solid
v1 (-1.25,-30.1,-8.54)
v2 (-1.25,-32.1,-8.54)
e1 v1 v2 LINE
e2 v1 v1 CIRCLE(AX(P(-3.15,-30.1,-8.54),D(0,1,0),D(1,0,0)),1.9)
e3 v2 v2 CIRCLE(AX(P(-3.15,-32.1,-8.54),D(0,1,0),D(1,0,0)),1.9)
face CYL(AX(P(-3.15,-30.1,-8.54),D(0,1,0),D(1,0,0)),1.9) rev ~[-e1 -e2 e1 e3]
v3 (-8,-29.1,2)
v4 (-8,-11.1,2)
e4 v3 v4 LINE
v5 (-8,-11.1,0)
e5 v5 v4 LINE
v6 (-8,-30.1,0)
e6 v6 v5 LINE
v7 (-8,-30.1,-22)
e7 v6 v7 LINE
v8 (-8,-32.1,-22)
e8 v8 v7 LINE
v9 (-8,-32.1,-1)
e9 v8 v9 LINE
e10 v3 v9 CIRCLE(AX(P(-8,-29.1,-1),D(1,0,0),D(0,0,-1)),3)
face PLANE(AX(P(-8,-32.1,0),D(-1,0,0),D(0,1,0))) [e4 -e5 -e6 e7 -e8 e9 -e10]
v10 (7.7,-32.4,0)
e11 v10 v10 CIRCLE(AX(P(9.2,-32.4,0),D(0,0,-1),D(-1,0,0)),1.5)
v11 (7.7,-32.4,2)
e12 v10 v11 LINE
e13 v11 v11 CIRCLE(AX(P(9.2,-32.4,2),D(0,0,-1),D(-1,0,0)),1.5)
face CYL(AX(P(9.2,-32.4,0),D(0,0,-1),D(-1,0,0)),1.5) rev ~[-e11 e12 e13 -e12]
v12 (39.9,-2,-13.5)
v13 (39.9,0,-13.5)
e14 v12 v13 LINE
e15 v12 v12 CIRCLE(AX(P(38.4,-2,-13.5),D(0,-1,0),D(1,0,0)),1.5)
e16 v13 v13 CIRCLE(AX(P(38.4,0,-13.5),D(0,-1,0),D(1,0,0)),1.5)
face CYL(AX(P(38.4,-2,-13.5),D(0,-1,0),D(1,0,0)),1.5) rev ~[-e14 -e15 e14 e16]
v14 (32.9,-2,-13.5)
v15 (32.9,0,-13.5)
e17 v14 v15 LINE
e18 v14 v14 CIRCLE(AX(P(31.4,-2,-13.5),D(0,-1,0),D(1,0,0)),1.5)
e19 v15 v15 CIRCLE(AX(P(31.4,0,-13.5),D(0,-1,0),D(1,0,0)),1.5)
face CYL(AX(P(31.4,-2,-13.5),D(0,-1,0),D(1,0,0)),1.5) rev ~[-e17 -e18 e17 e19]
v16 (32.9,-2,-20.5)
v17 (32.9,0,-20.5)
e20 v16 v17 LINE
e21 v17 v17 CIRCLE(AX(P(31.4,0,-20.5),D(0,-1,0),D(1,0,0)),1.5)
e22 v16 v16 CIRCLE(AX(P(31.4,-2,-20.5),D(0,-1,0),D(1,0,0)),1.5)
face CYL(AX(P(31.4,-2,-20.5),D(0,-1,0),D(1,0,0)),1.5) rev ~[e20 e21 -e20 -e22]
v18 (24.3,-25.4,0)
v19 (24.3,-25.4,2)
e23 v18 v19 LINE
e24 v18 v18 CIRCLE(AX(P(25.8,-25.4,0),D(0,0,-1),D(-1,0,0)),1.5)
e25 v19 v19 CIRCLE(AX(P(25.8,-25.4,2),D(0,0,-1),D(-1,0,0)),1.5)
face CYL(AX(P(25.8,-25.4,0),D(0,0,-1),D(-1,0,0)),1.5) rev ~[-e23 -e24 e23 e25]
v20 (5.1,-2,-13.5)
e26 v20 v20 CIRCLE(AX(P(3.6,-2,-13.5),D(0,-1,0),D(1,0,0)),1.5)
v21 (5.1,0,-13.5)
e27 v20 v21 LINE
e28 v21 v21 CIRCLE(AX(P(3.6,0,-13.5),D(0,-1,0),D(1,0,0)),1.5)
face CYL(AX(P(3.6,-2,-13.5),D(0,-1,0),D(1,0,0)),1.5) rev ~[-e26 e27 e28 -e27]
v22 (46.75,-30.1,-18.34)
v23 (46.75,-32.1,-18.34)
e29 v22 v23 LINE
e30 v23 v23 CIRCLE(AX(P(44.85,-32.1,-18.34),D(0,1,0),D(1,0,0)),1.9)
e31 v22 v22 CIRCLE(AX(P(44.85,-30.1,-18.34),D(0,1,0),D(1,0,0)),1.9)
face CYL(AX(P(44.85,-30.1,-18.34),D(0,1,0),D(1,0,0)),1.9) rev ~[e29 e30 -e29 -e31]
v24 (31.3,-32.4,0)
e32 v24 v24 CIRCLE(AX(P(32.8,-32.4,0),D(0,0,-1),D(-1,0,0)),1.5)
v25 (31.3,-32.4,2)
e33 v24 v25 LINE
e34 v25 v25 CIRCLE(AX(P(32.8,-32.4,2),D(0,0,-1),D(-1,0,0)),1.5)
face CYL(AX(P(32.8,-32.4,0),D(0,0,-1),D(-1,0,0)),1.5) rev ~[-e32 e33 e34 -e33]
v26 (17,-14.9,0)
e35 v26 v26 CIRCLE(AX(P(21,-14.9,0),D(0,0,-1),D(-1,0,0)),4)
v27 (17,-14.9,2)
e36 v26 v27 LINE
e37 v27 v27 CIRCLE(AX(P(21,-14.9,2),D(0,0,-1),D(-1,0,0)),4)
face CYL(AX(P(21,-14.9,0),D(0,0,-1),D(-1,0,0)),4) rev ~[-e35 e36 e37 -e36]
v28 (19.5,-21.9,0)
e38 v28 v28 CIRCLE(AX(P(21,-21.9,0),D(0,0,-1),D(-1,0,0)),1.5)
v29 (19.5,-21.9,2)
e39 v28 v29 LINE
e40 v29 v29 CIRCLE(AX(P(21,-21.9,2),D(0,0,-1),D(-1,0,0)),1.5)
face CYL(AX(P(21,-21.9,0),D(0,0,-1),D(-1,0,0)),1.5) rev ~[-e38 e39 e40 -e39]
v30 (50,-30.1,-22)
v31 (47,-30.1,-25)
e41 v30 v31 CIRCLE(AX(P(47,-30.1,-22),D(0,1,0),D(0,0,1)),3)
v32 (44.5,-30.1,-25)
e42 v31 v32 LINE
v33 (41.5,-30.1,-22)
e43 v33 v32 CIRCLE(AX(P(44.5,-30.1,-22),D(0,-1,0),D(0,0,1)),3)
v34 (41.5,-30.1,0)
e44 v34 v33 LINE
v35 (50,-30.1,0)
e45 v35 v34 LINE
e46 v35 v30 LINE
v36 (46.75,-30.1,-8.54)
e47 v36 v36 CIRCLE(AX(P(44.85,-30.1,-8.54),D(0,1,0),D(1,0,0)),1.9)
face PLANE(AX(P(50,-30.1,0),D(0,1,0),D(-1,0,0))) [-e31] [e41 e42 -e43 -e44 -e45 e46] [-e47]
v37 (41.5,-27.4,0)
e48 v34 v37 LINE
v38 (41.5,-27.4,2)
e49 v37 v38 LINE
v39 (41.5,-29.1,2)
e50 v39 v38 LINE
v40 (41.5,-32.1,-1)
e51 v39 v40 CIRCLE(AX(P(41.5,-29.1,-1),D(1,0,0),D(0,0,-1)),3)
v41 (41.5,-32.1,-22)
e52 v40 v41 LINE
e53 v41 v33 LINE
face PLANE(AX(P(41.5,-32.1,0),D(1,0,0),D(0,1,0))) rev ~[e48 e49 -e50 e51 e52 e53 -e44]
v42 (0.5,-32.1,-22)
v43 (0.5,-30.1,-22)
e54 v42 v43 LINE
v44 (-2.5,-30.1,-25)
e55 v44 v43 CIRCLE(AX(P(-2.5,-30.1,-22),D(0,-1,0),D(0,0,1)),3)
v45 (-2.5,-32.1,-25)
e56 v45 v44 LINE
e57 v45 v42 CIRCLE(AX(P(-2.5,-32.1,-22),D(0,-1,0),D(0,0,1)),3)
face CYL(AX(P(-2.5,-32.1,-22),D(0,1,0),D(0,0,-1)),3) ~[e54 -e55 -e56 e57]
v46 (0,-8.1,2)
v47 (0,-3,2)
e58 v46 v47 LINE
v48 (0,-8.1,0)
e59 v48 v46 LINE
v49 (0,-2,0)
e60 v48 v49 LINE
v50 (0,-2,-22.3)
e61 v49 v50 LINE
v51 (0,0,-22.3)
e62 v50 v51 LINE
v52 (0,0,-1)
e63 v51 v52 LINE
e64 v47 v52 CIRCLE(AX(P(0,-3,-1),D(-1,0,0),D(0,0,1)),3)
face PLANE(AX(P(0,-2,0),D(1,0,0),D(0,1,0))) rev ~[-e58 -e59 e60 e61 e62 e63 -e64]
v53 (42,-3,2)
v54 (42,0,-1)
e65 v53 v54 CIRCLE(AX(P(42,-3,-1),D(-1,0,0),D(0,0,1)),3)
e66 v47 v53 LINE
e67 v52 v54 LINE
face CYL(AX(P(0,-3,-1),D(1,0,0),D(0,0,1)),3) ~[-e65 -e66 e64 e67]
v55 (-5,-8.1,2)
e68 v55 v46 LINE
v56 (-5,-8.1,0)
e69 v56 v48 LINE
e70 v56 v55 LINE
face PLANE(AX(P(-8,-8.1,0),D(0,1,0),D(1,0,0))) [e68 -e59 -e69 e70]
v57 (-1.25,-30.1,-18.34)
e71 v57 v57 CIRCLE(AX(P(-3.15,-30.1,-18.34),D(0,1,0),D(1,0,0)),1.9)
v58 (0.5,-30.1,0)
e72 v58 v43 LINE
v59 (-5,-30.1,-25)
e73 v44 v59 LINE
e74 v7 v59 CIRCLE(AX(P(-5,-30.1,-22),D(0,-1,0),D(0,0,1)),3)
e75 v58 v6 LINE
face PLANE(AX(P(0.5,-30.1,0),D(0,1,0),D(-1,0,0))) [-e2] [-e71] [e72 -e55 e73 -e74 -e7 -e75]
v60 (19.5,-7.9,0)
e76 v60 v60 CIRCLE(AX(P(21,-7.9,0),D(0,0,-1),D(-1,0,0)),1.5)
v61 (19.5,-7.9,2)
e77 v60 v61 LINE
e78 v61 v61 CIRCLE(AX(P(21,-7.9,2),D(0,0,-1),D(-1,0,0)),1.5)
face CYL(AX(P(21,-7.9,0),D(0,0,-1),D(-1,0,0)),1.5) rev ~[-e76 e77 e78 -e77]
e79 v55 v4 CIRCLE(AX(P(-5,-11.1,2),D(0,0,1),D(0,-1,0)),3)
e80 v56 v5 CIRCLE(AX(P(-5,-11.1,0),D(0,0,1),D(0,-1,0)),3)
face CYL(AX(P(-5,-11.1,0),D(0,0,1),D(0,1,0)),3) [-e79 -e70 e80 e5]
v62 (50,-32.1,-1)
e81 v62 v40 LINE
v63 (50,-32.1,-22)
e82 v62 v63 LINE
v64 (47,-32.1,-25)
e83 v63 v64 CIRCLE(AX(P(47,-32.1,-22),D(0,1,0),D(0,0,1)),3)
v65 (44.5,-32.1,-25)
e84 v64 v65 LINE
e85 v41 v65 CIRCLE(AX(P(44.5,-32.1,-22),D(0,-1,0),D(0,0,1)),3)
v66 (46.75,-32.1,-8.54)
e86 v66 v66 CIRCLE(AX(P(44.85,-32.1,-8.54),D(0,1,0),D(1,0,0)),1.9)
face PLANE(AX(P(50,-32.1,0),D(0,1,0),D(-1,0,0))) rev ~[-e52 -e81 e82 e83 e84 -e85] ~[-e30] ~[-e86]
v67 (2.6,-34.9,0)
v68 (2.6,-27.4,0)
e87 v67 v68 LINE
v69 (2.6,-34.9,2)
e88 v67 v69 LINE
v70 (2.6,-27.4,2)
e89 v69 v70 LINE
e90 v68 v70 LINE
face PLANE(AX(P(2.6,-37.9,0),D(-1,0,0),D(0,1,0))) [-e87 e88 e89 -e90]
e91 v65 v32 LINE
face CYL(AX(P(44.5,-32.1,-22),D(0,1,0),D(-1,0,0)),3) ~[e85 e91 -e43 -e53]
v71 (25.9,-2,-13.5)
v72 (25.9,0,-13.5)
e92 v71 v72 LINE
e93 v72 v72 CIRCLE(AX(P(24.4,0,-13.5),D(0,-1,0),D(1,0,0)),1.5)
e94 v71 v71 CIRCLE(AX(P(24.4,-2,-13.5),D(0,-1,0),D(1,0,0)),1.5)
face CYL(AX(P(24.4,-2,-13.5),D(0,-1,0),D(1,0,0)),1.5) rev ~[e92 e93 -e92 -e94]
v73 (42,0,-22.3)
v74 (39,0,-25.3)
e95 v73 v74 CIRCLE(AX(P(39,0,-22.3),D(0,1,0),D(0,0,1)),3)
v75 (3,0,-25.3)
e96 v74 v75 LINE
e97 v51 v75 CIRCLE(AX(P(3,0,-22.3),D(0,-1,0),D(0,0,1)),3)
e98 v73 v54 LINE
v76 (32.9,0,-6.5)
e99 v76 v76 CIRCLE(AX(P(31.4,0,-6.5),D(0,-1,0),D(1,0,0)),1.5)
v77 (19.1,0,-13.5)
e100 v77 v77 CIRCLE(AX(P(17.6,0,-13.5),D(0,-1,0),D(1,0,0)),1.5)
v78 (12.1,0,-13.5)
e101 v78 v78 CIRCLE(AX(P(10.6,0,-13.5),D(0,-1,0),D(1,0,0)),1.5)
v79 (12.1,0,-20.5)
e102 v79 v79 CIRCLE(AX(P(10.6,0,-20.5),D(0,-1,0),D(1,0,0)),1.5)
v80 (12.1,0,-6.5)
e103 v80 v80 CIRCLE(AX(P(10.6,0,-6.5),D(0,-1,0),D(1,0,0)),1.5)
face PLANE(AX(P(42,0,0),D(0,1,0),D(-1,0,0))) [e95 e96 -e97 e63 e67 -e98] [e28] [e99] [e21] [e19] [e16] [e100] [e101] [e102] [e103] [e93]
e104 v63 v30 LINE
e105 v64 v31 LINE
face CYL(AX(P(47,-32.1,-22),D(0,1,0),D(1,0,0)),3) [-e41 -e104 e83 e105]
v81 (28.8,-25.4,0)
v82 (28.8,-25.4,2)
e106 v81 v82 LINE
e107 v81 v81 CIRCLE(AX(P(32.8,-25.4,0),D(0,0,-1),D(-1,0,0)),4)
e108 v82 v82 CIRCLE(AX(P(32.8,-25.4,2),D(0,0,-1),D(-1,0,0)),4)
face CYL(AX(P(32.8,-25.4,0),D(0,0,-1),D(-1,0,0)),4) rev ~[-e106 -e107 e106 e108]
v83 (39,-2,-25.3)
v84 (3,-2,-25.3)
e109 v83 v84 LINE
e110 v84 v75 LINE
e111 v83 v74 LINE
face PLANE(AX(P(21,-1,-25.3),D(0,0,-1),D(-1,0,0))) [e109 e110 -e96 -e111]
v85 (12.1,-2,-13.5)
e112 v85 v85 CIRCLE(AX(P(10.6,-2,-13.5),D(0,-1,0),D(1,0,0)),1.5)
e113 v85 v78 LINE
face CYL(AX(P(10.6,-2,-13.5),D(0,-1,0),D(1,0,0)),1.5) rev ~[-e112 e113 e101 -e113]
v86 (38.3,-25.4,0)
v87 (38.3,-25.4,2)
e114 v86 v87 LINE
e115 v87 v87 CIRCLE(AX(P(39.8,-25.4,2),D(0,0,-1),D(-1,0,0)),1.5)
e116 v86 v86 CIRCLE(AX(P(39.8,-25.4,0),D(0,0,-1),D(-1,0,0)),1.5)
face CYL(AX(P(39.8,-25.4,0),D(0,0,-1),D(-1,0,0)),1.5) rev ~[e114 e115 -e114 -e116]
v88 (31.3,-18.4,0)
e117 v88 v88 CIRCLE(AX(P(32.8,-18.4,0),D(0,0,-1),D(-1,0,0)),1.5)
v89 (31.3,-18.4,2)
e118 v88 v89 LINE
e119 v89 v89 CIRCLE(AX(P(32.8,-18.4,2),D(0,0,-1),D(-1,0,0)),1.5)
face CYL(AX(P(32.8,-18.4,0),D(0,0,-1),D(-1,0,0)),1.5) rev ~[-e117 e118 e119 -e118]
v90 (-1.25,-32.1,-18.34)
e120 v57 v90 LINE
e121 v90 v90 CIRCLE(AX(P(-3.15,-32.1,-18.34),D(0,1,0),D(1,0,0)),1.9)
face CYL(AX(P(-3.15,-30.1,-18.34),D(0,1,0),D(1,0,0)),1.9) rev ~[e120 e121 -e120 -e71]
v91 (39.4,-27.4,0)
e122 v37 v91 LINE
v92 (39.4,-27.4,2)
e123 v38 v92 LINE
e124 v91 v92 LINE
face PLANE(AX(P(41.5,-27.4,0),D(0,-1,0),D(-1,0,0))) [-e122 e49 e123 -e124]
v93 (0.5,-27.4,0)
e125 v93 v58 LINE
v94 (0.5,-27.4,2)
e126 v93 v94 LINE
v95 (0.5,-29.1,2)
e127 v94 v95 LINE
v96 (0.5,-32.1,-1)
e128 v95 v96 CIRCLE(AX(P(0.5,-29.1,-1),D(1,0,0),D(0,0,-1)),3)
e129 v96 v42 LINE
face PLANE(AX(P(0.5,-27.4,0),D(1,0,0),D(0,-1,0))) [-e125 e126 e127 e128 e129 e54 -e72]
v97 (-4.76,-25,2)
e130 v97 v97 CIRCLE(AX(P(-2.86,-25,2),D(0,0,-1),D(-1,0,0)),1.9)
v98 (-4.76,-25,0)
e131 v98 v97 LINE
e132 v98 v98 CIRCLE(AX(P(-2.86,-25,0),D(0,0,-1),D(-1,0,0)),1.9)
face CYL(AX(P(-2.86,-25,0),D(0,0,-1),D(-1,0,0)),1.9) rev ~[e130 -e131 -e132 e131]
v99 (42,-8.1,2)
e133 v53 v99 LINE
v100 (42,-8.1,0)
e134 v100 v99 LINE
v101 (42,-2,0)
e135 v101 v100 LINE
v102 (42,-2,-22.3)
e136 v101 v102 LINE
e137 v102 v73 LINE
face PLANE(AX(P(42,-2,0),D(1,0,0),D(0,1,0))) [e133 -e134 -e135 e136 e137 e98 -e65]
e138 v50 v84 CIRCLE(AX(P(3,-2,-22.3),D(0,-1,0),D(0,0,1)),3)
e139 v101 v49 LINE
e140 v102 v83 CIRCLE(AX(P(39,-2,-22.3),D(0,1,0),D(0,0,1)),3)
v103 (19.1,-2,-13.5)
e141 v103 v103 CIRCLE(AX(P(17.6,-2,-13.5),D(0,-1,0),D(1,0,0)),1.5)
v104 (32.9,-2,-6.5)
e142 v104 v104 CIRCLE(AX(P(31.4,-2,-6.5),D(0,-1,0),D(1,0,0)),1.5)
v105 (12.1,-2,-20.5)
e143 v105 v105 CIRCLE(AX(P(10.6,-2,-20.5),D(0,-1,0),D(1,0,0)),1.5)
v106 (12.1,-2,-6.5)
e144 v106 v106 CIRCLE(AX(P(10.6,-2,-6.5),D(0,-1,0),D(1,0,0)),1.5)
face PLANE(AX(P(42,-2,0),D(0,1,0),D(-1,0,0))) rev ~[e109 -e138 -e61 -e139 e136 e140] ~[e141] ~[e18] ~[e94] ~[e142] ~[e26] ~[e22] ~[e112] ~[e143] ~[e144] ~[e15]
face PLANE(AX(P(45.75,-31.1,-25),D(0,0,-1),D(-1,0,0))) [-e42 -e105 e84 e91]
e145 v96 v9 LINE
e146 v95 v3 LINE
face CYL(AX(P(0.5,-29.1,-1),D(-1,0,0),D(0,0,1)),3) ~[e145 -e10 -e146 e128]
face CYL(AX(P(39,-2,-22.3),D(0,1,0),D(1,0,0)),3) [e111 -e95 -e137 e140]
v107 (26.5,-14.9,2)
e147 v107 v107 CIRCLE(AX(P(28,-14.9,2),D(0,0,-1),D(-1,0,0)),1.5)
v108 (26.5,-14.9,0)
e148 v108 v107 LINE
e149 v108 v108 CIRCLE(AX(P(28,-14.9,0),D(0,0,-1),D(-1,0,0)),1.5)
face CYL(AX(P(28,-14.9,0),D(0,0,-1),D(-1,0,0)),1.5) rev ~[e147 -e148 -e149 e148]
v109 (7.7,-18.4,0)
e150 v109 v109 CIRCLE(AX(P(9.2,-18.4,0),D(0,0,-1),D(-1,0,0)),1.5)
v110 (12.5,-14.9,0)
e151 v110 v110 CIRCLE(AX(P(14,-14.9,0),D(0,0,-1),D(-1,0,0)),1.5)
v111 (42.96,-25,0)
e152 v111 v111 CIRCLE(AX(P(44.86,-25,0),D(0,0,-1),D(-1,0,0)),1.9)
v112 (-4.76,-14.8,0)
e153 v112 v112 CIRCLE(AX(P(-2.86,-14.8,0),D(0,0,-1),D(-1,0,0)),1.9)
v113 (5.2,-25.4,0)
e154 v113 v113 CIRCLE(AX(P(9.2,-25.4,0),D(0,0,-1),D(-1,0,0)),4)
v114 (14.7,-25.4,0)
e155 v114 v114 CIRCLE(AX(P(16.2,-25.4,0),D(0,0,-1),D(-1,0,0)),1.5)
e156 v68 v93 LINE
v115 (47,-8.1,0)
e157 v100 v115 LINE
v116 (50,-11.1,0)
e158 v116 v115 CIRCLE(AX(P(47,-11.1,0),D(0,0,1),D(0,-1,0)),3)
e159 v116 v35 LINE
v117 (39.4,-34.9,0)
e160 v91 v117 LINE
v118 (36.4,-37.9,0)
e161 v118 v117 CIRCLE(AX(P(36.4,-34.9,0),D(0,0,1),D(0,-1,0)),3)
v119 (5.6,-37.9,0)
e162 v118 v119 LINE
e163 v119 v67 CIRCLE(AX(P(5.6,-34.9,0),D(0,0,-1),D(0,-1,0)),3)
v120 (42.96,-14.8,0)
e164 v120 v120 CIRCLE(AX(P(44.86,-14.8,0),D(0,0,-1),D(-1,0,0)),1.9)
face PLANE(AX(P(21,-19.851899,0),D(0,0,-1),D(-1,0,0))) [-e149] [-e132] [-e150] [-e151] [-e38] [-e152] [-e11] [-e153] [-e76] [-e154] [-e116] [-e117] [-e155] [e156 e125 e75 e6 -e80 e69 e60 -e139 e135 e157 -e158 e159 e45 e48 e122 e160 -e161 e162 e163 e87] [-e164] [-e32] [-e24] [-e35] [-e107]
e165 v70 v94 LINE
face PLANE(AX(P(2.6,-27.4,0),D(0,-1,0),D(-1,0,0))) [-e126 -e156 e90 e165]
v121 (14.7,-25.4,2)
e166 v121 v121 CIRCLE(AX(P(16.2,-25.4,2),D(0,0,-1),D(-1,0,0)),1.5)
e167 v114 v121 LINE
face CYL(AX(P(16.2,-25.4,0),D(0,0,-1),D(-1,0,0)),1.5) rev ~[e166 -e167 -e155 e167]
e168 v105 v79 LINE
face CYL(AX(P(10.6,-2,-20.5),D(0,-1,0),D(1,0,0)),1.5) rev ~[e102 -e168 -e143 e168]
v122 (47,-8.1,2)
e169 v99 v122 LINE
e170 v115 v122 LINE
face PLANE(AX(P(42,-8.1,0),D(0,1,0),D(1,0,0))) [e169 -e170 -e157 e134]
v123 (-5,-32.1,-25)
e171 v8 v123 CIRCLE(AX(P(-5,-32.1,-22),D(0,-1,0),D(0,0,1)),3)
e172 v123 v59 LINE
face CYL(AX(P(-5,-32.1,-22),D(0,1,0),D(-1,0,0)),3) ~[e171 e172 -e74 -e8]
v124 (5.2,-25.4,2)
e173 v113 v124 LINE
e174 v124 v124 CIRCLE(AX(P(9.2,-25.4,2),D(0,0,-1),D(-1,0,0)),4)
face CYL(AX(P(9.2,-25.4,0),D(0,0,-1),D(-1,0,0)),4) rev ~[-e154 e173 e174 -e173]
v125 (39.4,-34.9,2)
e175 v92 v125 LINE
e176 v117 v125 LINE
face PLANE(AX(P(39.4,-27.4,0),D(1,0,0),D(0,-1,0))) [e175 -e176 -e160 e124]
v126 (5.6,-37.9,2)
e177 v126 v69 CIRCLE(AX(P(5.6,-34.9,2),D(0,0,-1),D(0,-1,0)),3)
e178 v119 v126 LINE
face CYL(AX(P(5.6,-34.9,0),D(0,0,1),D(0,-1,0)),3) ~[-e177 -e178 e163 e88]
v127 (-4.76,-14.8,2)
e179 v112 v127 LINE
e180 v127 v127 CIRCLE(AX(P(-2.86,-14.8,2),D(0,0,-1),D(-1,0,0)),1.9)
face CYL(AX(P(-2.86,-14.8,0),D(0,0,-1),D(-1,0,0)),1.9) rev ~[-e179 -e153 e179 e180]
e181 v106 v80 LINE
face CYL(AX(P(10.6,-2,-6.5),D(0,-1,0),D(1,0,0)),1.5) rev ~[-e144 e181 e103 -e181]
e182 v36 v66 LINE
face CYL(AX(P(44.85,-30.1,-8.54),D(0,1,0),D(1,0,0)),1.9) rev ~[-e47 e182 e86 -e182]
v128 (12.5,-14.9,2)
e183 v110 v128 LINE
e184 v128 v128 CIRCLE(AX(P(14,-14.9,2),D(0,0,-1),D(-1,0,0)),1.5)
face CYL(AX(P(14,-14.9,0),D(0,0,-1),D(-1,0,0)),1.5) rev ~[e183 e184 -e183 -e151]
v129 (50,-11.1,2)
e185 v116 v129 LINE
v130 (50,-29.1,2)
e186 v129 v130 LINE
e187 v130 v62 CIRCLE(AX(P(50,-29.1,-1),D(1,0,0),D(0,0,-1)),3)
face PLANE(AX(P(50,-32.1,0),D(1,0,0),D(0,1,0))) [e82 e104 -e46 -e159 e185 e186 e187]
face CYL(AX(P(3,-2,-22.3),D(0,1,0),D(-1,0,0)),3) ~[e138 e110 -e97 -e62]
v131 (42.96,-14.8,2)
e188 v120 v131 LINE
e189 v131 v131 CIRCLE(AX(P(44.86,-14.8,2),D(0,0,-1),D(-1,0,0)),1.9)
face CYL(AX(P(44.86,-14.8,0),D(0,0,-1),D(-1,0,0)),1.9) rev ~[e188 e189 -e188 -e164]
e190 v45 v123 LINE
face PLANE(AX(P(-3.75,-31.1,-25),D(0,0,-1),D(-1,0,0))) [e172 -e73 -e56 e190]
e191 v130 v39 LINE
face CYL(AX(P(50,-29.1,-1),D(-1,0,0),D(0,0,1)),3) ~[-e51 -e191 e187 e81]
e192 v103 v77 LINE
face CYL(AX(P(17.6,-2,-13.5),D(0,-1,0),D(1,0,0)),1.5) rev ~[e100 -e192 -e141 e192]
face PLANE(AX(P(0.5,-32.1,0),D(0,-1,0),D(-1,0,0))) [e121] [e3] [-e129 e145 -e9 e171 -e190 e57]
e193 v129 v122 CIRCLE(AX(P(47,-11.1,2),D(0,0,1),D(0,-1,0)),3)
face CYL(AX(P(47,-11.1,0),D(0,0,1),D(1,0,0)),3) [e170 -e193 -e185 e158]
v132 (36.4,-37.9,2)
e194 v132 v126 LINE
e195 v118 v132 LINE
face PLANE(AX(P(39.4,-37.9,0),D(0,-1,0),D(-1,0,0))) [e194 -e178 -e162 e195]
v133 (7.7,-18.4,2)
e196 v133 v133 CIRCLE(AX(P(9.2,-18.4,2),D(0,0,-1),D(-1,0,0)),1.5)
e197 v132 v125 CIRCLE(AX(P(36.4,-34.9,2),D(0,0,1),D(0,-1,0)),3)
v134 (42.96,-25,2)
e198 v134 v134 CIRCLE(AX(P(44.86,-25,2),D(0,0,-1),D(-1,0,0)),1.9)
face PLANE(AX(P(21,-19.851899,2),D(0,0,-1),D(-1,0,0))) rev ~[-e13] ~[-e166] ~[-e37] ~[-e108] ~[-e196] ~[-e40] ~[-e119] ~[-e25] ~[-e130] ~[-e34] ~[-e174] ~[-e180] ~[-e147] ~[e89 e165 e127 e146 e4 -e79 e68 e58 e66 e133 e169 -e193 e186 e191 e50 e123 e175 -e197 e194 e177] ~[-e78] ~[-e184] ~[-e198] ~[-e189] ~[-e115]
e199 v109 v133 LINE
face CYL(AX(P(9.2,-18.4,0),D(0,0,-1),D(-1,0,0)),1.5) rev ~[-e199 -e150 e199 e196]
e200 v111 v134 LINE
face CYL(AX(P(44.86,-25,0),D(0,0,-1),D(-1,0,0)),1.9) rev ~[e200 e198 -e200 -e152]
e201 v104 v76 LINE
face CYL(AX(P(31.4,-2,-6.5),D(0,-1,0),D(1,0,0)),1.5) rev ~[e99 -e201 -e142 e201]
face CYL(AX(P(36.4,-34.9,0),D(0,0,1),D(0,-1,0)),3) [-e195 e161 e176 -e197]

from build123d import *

# Parameters (mm, degrees)
EXTRUDE_1_DEPTH     = 2
SKETCH_2_W          = 42
SKETCH_2_H          = 2
EXTRUDE_2_DEPTH     = 25.3
SKETCH_3_W          = 8.5
SKETCH_3_H          = 2
EXTRUDE_3_DEPTH     = 25
FILLET_3_R          = 3
FILLET_4_R          = 3
FILLET_5_R          = 3
FILLET_6_R          = 3
FILLET_7_R          = 3
FILLET_8_R          = 3
FILLET_9_R          = 3
FILLET_10_R         = 3
FILLET_11_R         = 3
FILLET_12_R         = 3
SKETCH_5_R          = 1.5
SKETCH_5_R_2        = 4
SKETCH_5_R_3        = 1.9
CUT_EXTRUDE_5_DEPTH = 2
SKETCH_9_R          = 1.9
CUT_EXTRUDE_6_DEPTH = 2
SKETCH_10_R         = 1.5
CUT_EXTRUDE_7_DEPTH = 2
FILLET_13_R         = 3
FILLET_14_R         = 3
FILLET_15_R         = 3


with BuildPart() as part:
    # 草图1 → 凸台-拉伸1 (new body)
    with BuildSketch(Plane.XY):
        Polygon((0, 0), (42, 0), (42, -8.1), (50, -8.1), (50, -32.1), (41.5, -32.1), (41.5, -27.4), (39.4, -27.4), (39.4, -37.9), (2.6, -37.9), (2.6, -27.4), (0.5, -27.4), (0.5, -32.1), (-8, -32.1), (-8, -8.1), (0, -8.1), align=None)
    extrude(amount=EXTRUDE_1_DEPTH)

    # 草图2 → 凸台-拉伸2 (add)
    with BuildSketch(Plane(origin=(0, 0, 0), x_dir=(-1, 0, 0), z_dir=(0, 0, -1))):
        with Locations((-21, -1)):
            Rectangle(SKETCH_2_W, SKETCH_2_H)
    extrude(amount=EXTRUDE_2_DEPTH)

    # 草图3 → 凸台-拉伸3 (add)
    with BuildSketch(Plane(origin=(0, 0, 0), x_dir=(-1, 0, 0), z_dir=(0, 0, -1))):
        with Locations((-45.75, -31.1)):
            Rectangle(SKETCH_3_W, SKETCH_3_H)
        with Locations((3.75, -31.1)):
            Rectangle(SKETCH_3_W, SKETCH_3_H)
    extrude(amount=EXTRUDE_3_DEPTH)

    # 圆角3
    fillet_3_edges = [part.edges().sort_by_distance(p)[0] for p in [
        (42, -1, -25.3),
    ]]
    fillet(fillet_3_edges, radius=FILLET_3_R)

    # 圆角4
    fillet_4_edges = [part.edges().sort_by_distance(p)[0] for p in [
        (41.5, -31.1, -25),
    ]]
    fillet(fillet_4_edges, radius=FILLET_4_R)

    # 圆角5
    fillet_5_edges = [part.edges().sort_by_distance(p)[0] for p in [
        (0, -1, -25.3),
    ]]
    fillet(fillet_5_edges, radius=FILLET_5_R)

    # 圆角6
    fillet_6_edges = [part.edges().sort_by_distance(p)[0] for p in [
        (50, -31.1, -25),
    ]]
    fillet(fillet_6_edges, radius=FILLET_6_R)

    # 圆角7
    fillet_7_edges = [part.edges().sort_by_distance(p)[0] for p in [
        (-8, -31.1, -25),
    ]]
    fillet(fillet_7_edges, radius=FILLET_7_R)

    # 圆角8
    fillet_8_edges = [part.edges().sort_by_distance(p)[0] for p in [
        (0.5, -31.1, -25),
    ]]
    fillet(fillet_8_edges, radius=FILLET_8_R)

    # 圆角9
    fillet_9_edges = [part.edges().sort_by_distance(p)[0] for p in [
        (39.4, -37.9, 1),
    ]]
    fillet(fillet_9_edges, radius=FILLET_9_R)

    # 圆角10
    fillet_10_edges = [part.edges().sort_by_distance(p)[0] for p in [
        (2.6, -37.9, 1),
    ]]
    fillet(fillet_10_edges, radius=FILLET_10_R)

    # 圆角11
    fillet_11_edges = [part.edges().sort_by_distance(p)[0] for p in [
        (50, -8.1, 1),
    ]]
    fillet(fillet_11_edges, radius=FILLET_11_R)

    # 圆角12
    fillet_12_edges = [part.edges().sort_by_distance(p)[0] for p in [
        (-8, -8.1, 1),
    ]]
    fillet(fillet_12_edges, radius=FILLET_12_R)

    # 草图5 → 切除-拉伸5 (cut)
    with BuildSketch(Plane(origin=(0, 0, 0), x_dir=(-1, 0, 0), z_dir=(0, 0, -1))):
        with Locations((-32.8, -32.4)):
            Circle(SKETCH_5_R)
        with Locations((-32.8, -25.4)):
            Circle(SKETCH_5_R_2)
        with Locations((-25.8, -25.4)):
            Circle(SKETCH_5_R)
        with Locations((-32.8, -18.4)):
            Circle(SKETCH_5_R)
        with Locations((-39.8, -25.4)):
            Circle(SKETCH_5_R)
        with Locations((-21, -14.9)):
            Circle(SKETCH_5_R_2)
        with Locations((-14, -14.9)):
            Circle(SKETCH_5_R)
        with Locations((-21, -7.9)):
            Circle(SKETCH_5_R)
        with Locations((-21, -21.9)):
            Circle(SKETCH_5_R)
        with Locations((-44.86, -25)):
            Circle(SKETCH_5_R_3)
        with Locations((-44.86, -14.8)):
            Circle(SKETCH_5_R_3)
        with Locations((-28, -14.9)):
            Circle(SKETCH_5_R)
        with Locations((-9.2, -32.4)):
            Circle(SKETCH_5_R)
        with Locations((-9.2, -18.4)):
            Circle(SKETCH_5_R)
        with Locations((-16.2, -25.4)):
            Circle(SKETCH_5_R)
        with Locations((-9.2, -25.4)):
            Circle(SKETCH_5_R_2)
        with Locations((2.86, -25)):
            Circle(SKETCH_5_R_3)
        with Locations((2.86, -14.8)):
            Circle(SKETCH_5_R_3)
    extrude(amount=-CUT_EXTRUDE_5_DEPTH, mode=Mode.SUBTRACT)

    # 草图9 → 切除-拉伸6 (cut)
    with BuildSketch(Plane(origin=(0, -30.1, 0), x_dir=(1, 0, 0), z_dir=(0, 1, 0))):
        with Locations((44.85, 18.34)):
            Circle(SKETCH_9_R)
        with Locations((44.85, 8.54)):
            Circle(SKETCH_9_R)
        with Locations((-3.15, 8.54)):
            Circle(SKETCH_9_R)
        with Locations((-3.15, 18.34)):
            Circle(SKETCH_9_R)
    extrude(amount=-CUT_EXTRUDE_6_DEPTH, mode=Mode.SUBTRACT)

    # 草图10 → 切除-拉伸7 (cut)
    with BuildSketch(Plane.XZ.offset(2)):
        with Locations((10.6, -20.5)):
            Circle(SKETCH_10_R)
        with Locations((10.6, -13.5)):
            Circle(SKETCH_10_R)
        with Locations((10.6, -6.5)):
            Circle(SKETCH_10_R)
        with Locations((17.6, -13.5)):
            Circle(SKETCH_10_R)
        with Locations((3.6, -13.5)):
            Circle(SKETCH_10_R)
        with Locations((31.4, -20.5)):
            Circle(SKETCH_10_R)
        with Locations((24.4, -13.5)):
            Circle(SKETCH_10_R)
        with Locations((31.4, -13.5)):
            Circle(SKETCH_10_R)
        with Locations((38.4, -13.5)):
            Circle(SKETCH_10_R)
        with Locations((31.4, -6.5)):
            Circle(SKETCH_10_R)
    extrude(amount=-CUT_EXTRUDE_7_DEPTH, mode=Mode.SUBTRACT)

    # 圆角13
    fillet_13_edges = [part.edges().sort_by_distance(p)[0] for p in [
        (21, 0, 2),
    ]]
    fillet(fillet_13_edges, radius=FILLET_13_R)

    # 圆角14
    fillet_14_edges = [part.edges().sort_by_distance(p)[0] for p in [
        (45.75, -32.1, 2),
    ]]
    fillet(fillet_14_edges, radius=FILLET_14_R)

    # 圆角15
    fillet_15_edges = [part.edges().sort_by_distance(p)[0] for p in [
        (-3.75, -32.1, 2),
    ]]
    fillet(fillet_15_edges, radius=FILLET_15_R)


solid = part.part
